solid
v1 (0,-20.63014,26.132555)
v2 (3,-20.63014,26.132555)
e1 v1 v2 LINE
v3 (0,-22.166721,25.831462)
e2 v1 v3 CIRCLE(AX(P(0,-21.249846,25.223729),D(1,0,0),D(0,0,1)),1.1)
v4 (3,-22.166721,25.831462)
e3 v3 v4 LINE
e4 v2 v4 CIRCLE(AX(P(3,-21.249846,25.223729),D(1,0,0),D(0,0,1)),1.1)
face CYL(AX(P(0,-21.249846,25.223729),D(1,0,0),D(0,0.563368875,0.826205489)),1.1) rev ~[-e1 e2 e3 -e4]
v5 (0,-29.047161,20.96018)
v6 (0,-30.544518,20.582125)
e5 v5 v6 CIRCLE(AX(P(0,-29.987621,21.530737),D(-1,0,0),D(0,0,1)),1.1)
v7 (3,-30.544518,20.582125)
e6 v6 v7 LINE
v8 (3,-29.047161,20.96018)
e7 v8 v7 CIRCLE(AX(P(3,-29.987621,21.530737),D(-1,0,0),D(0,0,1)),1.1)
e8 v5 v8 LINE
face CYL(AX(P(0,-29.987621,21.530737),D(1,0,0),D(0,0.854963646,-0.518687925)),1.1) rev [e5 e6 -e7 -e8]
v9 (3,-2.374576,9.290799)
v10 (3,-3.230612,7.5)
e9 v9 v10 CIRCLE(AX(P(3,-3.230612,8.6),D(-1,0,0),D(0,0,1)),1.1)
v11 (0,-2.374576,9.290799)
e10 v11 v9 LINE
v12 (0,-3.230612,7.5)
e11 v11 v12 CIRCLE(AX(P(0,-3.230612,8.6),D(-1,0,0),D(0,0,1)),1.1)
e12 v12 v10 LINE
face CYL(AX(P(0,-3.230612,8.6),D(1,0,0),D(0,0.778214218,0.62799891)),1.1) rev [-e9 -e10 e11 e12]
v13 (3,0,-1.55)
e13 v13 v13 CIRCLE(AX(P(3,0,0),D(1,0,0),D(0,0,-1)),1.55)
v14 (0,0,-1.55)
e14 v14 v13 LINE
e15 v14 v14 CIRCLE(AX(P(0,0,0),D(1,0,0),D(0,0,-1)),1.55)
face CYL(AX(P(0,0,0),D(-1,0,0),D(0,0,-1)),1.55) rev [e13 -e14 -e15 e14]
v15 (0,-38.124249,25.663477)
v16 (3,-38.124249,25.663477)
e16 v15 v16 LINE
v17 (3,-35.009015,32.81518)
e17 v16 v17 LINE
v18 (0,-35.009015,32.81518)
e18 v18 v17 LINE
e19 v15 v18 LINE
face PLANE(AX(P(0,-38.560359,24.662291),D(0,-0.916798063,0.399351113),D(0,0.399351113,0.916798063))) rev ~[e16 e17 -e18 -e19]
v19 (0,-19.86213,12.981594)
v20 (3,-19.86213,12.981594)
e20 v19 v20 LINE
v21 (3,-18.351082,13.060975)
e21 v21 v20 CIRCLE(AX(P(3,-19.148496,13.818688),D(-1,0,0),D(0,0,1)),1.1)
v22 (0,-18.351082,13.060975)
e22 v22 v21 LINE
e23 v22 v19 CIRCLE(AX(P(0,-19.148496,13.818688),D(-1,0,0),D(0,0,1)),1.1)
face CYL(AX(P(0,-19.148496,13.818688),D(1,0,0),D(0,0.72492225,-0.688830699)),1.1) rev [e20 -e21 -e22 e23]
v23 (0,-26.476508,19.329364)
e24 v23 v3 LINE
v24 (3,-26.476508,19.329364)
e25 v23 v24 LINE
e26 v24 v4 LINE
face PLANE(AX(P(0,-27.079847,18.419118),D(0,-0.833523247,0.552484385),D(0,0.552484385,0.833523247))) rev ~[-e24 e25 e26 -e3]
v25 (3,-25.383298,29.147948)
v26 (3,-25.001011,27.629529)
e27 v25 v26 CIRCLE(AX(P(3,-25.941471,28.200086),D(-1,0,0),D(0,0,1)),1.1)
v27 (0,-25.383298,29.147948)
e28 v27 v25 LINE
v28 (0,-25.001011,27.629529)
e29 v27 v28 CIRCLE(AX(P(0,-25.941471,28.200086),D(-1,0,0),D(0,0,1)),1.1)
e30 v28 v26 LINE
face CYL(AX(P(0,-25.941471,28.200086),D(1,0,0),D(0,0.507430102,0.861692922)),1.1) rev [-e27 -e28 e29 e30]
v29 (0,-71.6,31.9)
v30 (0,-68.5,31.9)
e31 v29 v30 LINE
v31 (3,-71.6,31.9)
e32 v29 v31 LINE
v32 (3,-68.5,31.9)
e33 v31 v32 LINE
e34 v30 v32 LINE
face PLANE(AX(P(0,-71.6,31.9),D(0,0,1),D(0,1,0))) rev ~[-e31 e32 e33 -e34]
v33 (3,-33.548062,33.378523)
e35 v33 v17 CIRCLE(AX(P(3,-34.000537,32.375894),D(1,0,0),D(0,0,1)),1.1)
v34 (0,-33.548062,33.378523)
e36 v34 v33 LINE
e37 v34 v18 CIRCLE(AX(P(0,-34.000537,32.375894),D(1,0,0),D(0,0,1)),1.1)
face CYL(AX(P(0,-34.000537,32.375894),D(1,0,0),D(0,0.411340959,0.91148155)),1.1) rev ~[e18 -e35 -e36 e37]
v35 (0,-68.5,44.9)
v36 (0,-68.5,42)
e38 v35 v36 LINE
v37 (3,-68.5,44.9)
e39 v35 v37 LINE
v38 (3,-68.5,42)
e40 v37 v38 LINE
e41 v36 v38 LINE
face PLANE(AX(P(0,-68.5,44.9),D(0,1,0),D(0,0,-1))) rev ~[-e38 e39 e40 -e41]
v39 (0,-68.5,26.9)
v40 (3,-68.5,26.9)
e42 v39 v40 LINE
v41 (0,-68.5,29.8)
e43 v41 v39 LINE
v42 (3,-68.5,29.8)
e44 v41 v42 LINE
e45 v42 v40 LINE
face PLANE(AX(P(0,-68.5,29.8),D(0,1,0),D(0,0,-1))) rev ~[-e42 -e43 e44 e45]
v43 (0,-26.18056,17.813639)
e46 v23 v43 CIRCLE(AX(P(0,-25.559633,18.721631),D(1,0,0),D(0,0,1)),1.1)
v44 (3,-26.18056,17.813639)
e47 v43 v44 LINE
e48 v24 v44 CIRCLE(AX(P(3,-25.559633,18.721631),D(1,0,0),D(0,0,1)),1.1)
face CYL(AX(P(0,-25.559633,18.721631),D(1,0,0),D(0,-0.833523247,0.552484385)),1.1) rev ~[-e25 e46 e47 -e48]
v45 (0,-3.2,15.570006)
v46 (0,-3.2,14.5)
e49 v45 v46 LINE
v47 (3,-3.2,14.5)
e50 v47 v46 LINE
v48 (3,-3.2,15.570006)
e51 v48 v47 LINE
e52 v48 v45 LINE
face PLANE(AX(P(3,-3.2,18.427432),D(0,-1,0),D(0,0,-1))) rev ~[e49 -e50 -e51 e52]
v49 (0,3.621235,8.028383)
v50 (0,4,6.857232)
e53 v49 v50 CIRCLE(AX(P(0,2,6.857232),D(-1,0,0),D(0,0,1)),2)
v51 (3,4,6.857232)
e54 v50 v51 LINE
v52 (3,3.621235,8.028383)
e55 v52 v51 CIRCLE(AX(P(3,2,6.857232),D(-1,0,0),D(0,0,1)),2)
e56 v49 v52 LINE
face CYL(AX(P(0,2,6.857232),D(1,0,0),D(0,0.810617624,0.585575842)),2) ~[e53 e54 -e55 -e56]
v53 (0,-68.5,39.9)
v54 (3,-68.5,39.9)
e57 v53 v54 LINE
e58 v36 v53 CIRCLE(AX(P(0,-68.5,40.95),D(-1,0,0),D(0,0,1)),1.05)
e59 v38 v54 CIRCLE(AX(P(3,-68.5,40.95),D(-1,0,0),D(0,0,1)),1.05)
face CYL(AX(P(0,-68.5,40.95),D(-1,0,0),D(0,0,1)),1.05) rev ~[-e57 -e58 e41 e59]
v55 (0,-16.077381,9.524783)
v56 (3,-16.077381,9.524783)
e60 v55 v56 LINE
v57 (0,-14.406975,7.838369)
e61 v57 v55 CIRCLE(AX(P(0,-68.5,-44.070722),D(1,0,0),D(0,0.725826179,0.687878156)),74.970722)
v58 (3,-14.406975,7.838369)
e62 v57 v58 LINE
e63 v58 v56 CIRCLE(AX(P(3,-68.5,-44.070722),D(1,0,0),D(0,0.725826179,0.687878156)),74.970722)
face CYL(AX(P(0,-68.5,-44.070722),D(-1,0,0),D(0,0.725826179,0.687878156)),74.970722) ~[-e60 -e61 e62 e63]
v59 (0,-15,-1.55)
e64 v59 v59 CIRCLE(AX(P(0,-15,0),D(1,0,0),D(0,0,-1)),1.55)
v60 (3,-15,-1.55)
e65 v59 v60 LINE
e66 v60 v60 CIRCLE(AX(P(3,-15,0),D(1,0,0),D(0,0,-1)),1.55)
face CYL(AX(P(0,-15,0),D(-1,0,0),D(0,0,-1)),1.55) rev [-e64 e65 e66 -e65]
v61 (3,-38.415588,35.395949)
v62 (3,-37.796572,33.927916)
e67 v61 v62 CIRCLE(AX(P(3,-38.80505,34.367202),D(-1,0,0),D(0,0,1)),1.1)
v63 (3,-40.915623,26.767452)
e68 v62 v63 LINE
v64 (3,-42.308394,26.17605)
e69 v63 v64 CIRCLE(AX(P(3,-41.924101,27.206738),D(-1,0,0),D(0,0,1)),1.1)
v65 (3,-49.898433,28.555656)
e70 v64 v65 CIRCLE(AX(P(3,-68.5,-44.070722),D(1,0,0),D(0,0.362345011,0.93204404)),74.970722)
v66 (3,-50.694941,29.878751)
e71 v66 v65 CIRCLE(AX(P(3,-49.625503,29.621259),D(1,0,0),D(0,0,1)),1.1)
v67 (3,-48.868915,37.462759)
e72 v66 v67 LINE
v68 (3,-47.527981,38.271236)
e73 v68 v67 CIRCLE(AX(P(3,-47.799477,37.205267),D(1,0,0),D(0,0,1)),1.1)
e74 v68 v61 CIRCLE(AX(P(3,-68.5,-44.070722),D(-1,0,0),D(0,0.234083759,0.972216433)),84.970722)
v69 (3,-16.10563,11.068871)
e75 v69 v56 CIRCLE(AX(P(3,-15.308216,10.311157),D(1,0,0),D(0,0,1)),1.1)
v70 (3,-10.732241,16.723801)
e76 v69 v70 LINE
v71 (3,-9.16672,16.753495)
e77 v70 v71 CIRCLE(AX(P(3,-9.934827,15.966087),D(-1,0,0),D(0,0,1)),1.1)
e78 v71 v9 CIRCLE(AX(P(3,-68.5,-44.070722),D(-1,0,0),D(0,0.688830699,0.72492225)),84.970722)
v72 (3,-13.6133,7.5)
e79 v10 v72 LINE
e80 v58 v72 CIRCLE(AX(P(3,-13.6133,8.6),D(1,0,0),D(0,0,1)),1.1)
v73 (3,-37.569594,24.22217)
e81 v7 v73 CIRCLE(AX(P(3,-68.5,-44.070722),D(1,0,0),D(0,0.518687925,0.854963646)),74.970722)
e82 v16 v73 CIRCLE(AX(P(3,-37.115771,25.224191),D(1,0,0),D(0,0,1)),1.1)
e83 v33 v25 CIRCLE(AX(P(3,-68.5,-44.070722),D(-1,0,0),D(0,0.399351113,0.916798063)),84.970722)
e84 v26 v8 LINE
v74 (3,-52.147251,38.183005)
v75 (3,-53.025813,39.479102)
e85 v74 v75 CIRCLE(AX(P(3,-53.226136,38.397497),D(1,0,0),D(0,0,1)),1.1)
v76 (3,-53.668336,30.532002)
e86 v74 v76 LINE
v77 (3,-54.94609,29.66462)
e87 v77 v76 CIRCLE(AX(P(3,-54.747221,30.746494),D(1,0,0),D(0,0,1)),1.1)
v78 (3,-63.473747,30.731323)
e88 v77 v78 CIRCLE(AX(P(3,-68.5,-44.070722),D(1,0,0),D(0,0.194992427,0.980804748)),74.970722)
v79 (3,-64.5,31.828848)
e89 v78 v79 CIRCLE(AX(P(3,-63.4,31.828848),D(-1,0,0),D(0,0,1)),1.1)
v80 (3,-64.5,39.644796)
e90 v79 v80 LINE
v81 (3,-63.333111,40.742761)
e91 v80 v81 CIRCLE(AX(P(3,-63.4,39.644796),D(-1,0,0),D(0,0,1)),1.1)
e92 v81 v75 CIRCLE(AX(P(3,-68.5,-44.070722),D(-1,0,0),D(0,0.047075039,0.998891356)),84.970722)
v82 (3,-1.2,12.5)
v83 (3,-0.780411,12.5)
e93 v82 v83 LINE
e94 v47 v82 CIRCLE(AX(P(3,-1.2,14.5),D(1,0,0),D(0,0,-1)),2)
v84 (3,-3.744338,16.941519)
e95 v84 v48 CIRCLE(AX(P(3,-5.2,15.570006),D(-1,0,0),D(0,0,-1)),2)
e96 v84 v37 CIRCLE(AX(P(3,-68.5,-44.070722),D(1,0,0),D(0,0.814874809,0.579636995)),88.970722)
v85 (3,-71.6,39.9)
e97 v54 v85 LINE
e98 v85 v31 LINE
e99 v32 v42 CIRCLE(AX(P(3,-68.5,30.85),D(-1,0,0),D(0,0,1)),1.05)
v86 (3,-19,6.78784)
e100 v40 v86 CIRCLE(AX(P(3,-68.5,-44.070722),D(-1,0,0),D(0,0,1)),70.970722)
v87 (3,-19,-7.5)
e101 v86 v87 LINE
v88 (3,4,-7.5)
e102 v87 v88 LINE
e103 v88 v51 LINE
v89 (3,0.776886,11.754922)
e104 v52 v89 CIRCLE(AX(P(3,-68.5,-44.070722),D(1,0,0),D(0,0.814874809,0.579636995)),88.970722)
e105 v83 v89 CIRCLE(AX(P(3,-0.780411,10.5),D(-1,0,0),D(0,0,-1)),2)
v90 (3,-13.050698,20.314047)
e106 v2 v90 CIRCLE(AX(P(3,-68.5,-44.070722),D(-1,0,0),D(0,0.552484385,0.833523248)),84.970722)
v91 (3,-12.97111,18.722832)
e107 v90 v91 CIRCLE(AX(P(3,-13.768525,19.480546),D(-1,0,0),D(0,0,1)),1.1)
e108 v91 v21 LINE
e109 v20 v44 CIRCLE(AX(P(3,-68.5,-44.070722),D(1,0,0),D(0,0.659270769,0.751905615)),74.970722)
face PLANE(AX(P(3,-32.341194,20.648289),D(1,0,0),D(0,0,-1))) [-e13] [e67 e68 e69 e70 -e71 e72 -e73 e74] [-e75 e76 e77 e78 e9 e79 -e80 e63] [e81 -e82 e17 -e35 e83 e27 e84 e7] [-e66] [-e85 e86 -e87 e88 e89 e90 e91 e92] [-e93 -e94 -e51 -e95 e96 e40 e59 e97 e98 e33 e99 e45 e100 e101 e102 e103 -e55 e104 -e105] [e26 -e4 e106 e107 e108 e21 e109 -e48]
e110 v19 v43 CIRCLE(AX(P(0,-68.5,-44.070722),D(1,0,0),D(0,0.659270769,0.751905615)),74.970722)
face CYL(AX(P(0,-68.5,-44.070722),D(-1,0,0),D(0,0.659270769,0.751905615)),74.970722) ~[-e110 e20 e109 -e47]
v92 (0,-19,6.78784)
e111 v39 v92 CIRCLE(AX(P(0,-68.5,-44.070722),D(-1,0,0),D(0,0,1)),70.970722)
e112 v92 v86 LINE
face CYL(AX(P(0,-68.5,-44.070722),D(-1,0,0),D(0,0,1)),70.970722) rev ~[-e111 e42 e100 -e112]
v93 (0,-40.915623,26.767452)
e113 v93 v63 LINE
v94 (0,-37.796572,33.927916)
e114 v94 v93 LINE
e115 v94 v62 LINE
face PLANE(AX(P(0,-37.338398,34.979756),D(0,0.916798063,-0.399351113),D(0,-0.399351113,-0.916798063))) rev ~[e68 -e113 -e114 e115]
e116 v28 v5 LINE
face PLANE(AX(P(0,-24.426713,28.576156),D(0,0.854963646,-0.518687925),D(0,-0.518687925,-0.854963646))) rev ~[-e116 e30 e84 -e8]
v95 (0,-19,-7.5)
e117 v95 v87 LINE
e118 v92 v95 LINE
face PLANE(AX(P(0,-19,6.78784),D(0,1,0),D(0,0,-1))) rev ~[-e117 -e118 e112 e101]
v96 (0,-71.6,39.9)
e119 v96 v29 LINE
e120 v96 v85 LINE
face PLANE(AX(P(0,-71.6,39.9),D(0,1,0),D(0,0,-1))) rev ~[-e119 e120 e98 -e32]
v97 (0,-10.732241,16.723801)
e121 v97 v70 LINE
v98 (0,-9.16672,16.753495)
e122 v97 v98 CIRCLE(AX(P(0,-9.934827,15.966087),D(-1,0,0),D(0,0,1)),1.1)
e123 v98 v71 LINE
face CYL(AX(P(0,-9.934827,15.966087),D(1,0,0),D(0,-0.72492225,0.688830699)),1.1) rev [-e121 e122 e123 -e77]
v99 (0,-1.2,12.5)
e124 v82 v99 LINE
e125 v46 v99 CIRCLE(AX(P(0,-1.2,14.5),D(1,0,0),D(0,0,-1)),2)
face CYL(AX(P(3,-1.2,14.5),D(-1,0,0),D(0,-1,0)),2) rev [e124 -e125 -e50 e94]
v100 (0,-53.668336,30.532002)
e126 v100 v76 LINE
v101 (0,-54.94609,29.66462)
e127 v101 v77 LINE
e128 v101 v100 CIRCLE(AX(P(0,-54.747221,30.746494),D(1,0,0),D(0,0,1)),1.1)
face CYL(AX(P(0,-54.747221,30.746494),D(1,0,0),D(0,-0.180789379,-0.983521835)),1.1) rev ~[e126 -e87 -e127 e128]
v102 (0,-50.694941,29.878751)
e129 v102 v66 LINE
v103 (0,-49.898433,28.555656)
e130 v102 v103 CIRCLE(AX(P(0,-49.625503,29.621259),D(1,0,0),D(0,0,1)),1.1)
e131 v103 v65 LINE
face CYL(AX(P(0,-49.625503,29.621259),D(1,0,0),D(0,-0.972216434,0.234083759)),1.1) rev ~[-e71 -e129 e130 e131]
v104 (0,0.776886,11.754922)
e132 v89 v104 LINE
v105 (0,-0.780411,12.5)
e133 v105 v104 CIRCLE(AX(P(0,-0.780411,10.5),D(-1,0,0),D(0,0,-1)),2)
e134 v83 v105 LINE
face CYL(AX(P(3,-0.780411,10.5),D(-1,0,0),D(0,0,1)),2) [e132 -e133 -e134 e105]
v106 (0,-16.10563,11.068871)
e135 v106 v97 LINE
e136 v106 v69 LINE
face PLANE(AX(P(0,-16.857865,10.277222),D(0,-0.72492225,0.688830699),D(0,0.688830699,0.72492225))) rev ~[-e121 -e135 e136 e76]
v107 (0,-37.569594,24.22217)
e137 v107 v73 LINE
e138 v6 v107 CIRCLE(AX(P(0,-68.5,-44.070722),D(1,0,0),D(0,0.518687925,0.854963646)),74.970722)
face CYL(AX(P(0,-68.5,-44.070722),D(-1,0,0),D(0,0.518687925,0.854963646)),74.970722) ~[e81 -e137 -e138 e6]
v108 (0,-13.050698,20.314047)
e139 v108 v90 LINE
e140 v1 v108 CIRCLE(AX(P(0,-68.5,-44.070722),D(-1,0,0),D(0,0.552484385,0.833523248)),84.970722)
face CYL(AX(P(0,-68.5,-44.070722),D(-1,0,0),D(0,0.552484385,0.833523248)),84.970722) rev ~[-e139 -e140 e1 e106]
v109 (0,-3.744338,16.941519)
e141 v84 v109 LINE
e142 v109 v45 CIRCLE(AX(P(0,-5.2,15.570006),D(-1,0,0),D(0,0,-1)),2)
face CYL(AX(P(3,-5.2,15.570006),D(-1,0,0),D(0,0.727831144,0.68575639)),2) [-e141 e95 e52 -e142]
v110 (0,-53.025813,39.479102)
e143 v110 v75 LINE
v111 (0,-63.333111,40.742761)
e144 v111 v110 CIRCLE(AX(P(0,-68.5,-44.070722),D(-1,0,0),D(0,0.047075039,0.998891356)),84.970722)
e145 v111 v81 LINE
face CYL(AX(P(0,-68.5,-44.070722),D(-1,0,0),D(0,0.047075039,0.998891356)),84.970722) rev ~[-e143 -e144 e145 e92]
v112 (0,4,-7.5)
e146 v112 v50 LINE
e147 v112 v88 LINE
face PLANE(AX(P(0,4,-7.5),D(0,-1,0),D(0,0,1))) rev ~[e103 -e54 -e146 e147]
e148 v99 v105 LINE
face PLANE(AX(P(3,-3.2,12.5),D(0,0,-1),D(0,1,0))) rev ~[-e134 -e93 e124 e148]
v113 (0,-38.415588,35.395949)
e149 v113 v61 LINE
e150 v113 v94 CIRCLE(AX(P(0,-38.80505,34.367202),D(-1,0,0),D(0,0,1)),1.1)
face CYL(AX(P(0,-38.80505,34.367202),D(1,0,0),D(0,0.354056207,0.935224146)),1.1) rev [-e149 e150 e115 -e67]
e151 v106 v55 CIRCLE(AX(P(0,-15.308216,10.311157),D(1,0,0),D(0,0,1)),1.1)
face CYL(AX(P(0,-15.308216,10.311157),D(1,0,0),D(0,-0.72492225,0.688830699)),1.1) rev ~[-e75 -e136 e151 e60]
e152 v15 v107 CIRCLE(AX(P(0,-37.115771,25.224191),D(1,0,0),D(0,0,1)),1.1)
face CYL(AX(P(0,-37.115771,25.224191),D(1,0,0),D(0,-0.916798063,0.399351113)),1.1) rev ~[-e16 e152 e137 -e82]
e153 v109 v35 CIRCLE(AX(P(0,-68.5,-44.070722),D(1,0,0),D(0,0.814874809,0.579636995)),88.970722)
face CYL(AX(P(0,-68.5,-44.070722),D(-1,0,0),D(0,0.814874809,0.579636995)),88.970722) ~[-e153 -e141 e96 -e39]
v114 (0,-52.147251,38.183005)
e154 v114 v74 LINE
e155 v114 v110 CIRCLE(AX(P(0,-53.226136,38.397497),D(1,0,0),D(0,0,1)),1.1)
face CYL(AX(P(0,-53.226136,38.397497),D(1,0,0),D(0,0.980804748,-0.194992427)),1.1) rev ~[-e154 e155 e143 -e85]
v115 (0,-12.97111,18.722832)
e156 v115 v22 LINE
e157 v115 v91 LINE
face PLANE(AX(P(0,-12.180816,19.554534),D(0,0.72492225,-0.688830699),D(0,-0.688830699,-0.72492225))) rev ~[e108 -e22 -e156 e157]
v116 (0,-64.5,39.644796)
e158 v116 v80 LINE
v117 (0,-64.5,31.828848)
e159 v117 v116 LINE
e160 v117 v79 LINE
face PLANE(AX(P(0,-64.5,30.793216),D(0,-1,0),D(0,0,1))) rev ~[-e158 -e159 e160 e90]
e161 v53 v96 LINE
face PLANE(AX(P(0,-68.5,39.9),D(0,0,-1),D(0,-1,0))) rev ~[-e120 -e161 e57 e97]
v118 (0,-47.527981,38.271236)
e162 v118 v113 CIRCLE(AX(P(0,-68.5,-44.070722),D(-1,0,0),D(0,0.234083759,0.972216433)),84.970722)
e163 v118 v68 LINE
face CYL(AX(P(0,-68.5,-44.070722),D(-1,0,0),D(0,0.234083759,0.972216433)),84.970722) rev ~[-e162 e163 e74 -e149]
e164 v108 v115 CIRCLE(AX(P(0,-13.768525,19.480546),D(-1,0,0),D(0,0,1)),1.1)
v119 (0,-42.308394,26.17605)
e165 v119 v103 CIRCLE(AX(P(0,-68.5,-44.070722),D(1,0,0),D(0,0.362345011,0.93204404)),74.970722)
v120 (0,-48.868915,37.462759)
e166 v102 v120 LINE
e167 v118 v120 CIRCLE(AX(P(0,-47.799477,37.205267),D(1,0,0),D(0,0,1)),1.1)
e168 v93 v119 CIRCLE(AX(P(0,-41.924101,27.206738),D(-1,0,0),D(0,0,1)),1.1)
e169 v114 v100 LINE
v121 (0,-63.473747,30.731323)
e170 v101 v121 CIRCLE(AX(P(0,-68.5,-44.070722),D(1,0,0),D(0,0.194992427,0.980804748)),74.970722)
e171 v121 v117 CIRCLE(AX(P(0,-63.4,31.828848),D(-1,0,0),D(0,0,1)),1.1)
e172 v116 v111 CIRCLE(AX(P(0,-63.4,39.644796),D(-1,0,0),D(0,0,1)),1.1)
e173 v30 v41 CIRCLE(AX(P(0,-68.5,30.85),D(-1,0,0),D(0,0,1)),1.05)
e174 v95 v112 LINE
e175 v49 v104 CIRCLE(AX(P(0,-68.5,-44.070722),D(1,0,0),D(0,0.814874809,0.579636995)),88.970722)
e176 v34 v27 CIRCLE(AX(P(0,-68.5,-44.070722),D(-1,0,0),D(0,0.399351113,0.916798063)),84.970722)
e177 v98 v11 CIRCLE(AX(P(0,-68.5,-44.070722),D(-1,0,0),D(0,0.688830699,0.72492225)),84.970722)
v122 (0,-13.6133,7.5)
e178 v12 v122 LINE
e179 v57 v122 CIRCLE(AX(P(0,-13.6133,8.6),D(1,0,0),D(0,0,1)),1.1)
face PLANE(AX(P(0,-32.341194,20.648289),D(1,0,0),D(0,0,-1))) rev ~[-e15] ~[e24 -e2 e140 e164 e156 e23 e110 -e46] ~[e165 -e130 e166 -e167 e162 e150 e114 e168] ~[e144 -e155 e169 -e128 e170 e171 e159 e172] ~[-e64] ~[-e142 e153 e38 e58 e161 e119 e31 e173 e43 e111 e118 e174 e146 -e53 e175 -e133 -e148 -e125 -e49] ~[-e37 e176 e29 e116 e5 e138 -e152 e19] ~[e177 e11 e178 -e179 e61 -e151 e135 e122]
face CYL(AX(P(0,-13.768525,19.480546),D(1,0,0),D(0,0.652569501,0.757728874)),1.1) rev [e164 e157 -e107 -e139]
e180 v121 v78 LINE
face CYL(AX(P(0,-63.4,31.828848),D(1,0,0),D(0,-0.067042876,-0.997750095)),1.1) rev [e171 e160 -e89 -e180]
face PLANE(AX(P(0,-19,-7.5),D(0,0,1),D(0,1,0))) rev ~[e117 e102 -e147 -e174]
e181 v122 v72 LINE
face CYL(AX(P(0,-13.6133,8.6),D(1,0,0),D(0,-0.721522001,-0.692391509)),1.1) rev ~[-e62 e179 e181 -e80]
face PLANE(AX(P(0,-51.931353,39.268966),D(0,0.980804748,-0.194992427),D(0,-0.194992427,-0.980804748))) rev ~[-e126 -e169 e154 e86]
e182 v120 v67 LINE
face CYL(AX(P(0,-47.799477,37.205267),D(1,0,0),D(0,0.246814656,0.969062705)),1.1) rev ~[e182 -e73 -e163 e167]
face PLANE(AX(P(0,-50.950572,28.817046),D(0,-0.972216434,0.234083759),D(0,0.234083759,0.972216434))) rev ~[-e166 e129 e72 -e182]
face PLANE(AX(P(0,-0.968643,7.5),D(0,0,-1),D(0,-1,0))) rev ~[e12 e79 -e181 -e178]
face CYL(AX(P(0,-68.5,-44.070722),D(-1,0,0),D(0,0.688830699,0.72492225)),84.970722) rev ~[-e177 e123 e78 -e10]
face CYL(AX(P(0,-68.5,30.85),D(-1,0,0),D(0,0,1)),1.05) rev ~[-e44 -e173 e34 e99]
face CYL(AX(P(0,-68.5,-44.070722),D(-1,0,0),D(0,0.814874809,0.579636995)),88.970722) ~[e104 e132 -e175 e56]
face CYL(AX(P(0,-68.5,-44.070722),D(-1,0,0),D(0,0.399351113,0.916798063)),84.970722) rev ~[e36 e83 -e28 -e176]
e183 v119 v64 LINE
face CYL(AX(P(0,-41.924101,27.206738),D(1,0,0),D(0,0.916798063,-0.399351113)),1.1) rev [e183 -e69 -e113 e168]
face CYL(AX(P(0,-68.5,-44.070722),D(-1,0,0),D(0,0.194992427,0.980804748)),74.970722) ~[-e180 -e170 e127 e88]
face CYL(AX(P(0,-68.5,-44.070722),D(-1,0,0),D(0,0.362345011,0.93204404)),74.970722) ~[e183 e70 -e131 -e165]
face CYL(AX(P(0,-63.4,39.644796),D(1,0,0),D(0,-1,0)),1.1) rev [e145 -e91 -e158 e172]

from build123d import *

# Parameters (mm, degrees)
SKETCH_1_R          = 1.55
EXTRUDE_1_DEPTH     = 3
FILLET_1_R          = 1.1
SKETCH_2_W          = 5.927431674
SKETCH_2_H          = 6.747498384
CUT_EXTRUDE_1_DEPTH = 10
FILLET_2_R          = 2


with BuildPart() as part:
    # 草图1 → 凸台-拉伸1 (new body)
    with BuildSketch(Plane(origin=(0, 0, 0), x_dir=(0, 0, -1), z_dir=(1, 0, 0))):
        with BuildLine():
            ThreePointArc((-42, -68.5), (-40.95, -67.45), (-39.9, -68.5))
            Line((-39.9, -68.5), (-39.9, -71.6))
            Line((-39.9, -71.6), (-31.9, -71.6))
            Line((-31.9, -71.6), (-31.9, -68.5))
            ThreePointArc((-31.9, -68.5), (-30.85, -67.45), (-29.8, -68.5))
            Line((-29.8, -68.5), (-26.9, -68.5))
            ThreePointArc((-26.9, -68.5), (-21.67999009, -41.785074582), (-6.787840486, -19))
            Line((-6.787840486, -19), (7.5, -19))
            Line((7.5, -19), (7.5, 4))
            Line((7.5, 4), (-7.5, 4))
            ThreePointArc((-7.5, 4), (-34.999100763, -27.710877676), (-44.9, -68.5))
            Line((-44.9, -68.5), (-42, -68.5))
        make_face()
        with BuildLine():
            Line((-30.793215628, -64.5), (-40.805797705, -64.5))
            ThreePointArc((-40.805797705, -64.5), (-40.271828479, -58.18700937), (-39.268965575, -51.931352743))
            Line((-39.268965575, -51.931352743), (-29.460918095, -53.881277009))
            ThreePointArc((-29.460918095, -53.881277009), (-30.316784958, -59.166835176), (-30.793215628, -64.5))
        make_face(mode=Mode.SUBTRACT)
        with BuildLine():
            Line((-34.979756463, -37.338397808), (-25.805292651, -41.334732969))
            ThreePointArc((-25.805292651, -41.334732969), (-27.472904513, -46.09199558), (-28.817045963, -50.950571569))
            Line((-28.817045963, -50.950571569), (-38.539210298, -48.609733975))
            ThreePointArc((-38.539210298, -48.609733975), (-36.955711073, -42.91209778), (-34.979756463, -37.338397808))
        make_face(mode=Mode.SUBTRACT)
        with BuildLine():
            Line((-28.576156327, -24.426712573), (-20.026519864, -29.613591821))
            ThreePointArc((-20.026519864, -29.613591821), (-22.494886937, -34.009003163), (-24.662290725, -38.560358752))
            Line((-24.662290725, -38.560358752), (-33.830271356, -34.566847621))
            ThreePointArc((-33.830271356, -34.566847621), (-31.373767539, -29.408407631), (-28.576156327, -24.426712573))
        make_face(mode=Mode.SUBTRACT)
        with BuildLine():
            Line((-19.554533637, -12.18081642), (-12.300184819, -19.073994509))
            ThreePointArc((-12.300184819, -19.073994509), (-15.49430702, -22.974002232), (-18.419117678, -27.079846784))
            Line((-18.419117678, -27.079846784), (-26.754350152, -21.555002932))
            ThreePointArc((-26.754350152, -21.555002932), (-23.317641268, -16.742564875), (-19.554533637, -12.18081642))
        make_face(mode=Mode.SUBTRACT)
        with Locations((0, -15)):
            Circle(SKETCH_1_R, mode=Mode.SUBTRACT)
        with BuildLine():
            ThreePointArc((-17.526444973, -9.969558223), (-12.691914425, -5.270049035), (-7.5, -0.968642657))
            Line((-7.5, -0.968642657), (-7.5, -14.084287323))
            ThreePointArc((-7.5, -14.084287323), (-8.906765299, -15.452898351), (-10.277222475, -16.857865213))
            Line((-10.277222475, -16.857865213), (-17.526444973, -9.969558223))
        make_face(mode=Mode.SUBTRACT)
        Circle(SKETCH_1_R, mode=Mode.SUBTRACT)
    extrude(amount=EXTRUDE_1_DEPTH)

    # 圆角1
    fillet_1_edges = [part.edges().sort_by_distance(p)[0] for p in [
        (1.5, -12.18081642, 19.554533637),
        (1.5, -21.555002932, 26.754350152),
        (1.5, -27.079846784, 18.419117678),
        (1.5, -19.073994509, 12.300184819),
        (1.5, -24.426712573, 28.576156327),
        (1.5, -34.566847621, 33.830271356),
        (1.5, -38.560358752, 24.662290725),
        (1.5, -29.613591821, 20.026519864),
        (1.5, -51.931352743, 39.268965575),
        (1.5, -64.5, 40.805797705),
        (1.5, -64.5, 30.793215628),
        (1.5, -53.881277009, 29.460918095),
        (1.5, -37.338397808, 34.979756463),
        (1.5, -48.609733975, 38.539210298),
        (1.5, -50.950571569, 28.817045963),
        (1.5, -41.334732969, 25.805292651),
        (1.5, -0.968642657, 7.5),
        (1.5, -9.969558223, 17.526444973),
        (1.5, -16.857865213, 10.277222475),
        (1.5, -14.084287323, 7.5),
    ]]
    fillet(fillet_1_edges, radius=FILLET_1_R)

    # 草图2 → 切除-拉伸1 (cut)
    with BuildSketch(Plane(origin=(3, 0, 0), x_dir=(0, 0, -1), z_dir=(1, 0, 0))):
        with Locations((-15.463715837, 0.173749192)):
            Rectangle(SKETCH_2_W, SKETCH_2_H)
    extrude(amount=-CUT_EXTRUDE_1_DEPTH, mode=Mode.SUBTRACT)

    # 圆角2
    fillet_2_edges = [part.edges().sort_by_distance(p)[0] for p in [
        (1.5, 0.16980982, 12.5),
        (1.5, -3.2, 16.358570309),
        (1.5, -3.2, 12.5),
        (1.5, 4, 7.5),
    ]]
    fillet(fillet_2_edges, radius=FILLET_2_R)


solid = part.part
